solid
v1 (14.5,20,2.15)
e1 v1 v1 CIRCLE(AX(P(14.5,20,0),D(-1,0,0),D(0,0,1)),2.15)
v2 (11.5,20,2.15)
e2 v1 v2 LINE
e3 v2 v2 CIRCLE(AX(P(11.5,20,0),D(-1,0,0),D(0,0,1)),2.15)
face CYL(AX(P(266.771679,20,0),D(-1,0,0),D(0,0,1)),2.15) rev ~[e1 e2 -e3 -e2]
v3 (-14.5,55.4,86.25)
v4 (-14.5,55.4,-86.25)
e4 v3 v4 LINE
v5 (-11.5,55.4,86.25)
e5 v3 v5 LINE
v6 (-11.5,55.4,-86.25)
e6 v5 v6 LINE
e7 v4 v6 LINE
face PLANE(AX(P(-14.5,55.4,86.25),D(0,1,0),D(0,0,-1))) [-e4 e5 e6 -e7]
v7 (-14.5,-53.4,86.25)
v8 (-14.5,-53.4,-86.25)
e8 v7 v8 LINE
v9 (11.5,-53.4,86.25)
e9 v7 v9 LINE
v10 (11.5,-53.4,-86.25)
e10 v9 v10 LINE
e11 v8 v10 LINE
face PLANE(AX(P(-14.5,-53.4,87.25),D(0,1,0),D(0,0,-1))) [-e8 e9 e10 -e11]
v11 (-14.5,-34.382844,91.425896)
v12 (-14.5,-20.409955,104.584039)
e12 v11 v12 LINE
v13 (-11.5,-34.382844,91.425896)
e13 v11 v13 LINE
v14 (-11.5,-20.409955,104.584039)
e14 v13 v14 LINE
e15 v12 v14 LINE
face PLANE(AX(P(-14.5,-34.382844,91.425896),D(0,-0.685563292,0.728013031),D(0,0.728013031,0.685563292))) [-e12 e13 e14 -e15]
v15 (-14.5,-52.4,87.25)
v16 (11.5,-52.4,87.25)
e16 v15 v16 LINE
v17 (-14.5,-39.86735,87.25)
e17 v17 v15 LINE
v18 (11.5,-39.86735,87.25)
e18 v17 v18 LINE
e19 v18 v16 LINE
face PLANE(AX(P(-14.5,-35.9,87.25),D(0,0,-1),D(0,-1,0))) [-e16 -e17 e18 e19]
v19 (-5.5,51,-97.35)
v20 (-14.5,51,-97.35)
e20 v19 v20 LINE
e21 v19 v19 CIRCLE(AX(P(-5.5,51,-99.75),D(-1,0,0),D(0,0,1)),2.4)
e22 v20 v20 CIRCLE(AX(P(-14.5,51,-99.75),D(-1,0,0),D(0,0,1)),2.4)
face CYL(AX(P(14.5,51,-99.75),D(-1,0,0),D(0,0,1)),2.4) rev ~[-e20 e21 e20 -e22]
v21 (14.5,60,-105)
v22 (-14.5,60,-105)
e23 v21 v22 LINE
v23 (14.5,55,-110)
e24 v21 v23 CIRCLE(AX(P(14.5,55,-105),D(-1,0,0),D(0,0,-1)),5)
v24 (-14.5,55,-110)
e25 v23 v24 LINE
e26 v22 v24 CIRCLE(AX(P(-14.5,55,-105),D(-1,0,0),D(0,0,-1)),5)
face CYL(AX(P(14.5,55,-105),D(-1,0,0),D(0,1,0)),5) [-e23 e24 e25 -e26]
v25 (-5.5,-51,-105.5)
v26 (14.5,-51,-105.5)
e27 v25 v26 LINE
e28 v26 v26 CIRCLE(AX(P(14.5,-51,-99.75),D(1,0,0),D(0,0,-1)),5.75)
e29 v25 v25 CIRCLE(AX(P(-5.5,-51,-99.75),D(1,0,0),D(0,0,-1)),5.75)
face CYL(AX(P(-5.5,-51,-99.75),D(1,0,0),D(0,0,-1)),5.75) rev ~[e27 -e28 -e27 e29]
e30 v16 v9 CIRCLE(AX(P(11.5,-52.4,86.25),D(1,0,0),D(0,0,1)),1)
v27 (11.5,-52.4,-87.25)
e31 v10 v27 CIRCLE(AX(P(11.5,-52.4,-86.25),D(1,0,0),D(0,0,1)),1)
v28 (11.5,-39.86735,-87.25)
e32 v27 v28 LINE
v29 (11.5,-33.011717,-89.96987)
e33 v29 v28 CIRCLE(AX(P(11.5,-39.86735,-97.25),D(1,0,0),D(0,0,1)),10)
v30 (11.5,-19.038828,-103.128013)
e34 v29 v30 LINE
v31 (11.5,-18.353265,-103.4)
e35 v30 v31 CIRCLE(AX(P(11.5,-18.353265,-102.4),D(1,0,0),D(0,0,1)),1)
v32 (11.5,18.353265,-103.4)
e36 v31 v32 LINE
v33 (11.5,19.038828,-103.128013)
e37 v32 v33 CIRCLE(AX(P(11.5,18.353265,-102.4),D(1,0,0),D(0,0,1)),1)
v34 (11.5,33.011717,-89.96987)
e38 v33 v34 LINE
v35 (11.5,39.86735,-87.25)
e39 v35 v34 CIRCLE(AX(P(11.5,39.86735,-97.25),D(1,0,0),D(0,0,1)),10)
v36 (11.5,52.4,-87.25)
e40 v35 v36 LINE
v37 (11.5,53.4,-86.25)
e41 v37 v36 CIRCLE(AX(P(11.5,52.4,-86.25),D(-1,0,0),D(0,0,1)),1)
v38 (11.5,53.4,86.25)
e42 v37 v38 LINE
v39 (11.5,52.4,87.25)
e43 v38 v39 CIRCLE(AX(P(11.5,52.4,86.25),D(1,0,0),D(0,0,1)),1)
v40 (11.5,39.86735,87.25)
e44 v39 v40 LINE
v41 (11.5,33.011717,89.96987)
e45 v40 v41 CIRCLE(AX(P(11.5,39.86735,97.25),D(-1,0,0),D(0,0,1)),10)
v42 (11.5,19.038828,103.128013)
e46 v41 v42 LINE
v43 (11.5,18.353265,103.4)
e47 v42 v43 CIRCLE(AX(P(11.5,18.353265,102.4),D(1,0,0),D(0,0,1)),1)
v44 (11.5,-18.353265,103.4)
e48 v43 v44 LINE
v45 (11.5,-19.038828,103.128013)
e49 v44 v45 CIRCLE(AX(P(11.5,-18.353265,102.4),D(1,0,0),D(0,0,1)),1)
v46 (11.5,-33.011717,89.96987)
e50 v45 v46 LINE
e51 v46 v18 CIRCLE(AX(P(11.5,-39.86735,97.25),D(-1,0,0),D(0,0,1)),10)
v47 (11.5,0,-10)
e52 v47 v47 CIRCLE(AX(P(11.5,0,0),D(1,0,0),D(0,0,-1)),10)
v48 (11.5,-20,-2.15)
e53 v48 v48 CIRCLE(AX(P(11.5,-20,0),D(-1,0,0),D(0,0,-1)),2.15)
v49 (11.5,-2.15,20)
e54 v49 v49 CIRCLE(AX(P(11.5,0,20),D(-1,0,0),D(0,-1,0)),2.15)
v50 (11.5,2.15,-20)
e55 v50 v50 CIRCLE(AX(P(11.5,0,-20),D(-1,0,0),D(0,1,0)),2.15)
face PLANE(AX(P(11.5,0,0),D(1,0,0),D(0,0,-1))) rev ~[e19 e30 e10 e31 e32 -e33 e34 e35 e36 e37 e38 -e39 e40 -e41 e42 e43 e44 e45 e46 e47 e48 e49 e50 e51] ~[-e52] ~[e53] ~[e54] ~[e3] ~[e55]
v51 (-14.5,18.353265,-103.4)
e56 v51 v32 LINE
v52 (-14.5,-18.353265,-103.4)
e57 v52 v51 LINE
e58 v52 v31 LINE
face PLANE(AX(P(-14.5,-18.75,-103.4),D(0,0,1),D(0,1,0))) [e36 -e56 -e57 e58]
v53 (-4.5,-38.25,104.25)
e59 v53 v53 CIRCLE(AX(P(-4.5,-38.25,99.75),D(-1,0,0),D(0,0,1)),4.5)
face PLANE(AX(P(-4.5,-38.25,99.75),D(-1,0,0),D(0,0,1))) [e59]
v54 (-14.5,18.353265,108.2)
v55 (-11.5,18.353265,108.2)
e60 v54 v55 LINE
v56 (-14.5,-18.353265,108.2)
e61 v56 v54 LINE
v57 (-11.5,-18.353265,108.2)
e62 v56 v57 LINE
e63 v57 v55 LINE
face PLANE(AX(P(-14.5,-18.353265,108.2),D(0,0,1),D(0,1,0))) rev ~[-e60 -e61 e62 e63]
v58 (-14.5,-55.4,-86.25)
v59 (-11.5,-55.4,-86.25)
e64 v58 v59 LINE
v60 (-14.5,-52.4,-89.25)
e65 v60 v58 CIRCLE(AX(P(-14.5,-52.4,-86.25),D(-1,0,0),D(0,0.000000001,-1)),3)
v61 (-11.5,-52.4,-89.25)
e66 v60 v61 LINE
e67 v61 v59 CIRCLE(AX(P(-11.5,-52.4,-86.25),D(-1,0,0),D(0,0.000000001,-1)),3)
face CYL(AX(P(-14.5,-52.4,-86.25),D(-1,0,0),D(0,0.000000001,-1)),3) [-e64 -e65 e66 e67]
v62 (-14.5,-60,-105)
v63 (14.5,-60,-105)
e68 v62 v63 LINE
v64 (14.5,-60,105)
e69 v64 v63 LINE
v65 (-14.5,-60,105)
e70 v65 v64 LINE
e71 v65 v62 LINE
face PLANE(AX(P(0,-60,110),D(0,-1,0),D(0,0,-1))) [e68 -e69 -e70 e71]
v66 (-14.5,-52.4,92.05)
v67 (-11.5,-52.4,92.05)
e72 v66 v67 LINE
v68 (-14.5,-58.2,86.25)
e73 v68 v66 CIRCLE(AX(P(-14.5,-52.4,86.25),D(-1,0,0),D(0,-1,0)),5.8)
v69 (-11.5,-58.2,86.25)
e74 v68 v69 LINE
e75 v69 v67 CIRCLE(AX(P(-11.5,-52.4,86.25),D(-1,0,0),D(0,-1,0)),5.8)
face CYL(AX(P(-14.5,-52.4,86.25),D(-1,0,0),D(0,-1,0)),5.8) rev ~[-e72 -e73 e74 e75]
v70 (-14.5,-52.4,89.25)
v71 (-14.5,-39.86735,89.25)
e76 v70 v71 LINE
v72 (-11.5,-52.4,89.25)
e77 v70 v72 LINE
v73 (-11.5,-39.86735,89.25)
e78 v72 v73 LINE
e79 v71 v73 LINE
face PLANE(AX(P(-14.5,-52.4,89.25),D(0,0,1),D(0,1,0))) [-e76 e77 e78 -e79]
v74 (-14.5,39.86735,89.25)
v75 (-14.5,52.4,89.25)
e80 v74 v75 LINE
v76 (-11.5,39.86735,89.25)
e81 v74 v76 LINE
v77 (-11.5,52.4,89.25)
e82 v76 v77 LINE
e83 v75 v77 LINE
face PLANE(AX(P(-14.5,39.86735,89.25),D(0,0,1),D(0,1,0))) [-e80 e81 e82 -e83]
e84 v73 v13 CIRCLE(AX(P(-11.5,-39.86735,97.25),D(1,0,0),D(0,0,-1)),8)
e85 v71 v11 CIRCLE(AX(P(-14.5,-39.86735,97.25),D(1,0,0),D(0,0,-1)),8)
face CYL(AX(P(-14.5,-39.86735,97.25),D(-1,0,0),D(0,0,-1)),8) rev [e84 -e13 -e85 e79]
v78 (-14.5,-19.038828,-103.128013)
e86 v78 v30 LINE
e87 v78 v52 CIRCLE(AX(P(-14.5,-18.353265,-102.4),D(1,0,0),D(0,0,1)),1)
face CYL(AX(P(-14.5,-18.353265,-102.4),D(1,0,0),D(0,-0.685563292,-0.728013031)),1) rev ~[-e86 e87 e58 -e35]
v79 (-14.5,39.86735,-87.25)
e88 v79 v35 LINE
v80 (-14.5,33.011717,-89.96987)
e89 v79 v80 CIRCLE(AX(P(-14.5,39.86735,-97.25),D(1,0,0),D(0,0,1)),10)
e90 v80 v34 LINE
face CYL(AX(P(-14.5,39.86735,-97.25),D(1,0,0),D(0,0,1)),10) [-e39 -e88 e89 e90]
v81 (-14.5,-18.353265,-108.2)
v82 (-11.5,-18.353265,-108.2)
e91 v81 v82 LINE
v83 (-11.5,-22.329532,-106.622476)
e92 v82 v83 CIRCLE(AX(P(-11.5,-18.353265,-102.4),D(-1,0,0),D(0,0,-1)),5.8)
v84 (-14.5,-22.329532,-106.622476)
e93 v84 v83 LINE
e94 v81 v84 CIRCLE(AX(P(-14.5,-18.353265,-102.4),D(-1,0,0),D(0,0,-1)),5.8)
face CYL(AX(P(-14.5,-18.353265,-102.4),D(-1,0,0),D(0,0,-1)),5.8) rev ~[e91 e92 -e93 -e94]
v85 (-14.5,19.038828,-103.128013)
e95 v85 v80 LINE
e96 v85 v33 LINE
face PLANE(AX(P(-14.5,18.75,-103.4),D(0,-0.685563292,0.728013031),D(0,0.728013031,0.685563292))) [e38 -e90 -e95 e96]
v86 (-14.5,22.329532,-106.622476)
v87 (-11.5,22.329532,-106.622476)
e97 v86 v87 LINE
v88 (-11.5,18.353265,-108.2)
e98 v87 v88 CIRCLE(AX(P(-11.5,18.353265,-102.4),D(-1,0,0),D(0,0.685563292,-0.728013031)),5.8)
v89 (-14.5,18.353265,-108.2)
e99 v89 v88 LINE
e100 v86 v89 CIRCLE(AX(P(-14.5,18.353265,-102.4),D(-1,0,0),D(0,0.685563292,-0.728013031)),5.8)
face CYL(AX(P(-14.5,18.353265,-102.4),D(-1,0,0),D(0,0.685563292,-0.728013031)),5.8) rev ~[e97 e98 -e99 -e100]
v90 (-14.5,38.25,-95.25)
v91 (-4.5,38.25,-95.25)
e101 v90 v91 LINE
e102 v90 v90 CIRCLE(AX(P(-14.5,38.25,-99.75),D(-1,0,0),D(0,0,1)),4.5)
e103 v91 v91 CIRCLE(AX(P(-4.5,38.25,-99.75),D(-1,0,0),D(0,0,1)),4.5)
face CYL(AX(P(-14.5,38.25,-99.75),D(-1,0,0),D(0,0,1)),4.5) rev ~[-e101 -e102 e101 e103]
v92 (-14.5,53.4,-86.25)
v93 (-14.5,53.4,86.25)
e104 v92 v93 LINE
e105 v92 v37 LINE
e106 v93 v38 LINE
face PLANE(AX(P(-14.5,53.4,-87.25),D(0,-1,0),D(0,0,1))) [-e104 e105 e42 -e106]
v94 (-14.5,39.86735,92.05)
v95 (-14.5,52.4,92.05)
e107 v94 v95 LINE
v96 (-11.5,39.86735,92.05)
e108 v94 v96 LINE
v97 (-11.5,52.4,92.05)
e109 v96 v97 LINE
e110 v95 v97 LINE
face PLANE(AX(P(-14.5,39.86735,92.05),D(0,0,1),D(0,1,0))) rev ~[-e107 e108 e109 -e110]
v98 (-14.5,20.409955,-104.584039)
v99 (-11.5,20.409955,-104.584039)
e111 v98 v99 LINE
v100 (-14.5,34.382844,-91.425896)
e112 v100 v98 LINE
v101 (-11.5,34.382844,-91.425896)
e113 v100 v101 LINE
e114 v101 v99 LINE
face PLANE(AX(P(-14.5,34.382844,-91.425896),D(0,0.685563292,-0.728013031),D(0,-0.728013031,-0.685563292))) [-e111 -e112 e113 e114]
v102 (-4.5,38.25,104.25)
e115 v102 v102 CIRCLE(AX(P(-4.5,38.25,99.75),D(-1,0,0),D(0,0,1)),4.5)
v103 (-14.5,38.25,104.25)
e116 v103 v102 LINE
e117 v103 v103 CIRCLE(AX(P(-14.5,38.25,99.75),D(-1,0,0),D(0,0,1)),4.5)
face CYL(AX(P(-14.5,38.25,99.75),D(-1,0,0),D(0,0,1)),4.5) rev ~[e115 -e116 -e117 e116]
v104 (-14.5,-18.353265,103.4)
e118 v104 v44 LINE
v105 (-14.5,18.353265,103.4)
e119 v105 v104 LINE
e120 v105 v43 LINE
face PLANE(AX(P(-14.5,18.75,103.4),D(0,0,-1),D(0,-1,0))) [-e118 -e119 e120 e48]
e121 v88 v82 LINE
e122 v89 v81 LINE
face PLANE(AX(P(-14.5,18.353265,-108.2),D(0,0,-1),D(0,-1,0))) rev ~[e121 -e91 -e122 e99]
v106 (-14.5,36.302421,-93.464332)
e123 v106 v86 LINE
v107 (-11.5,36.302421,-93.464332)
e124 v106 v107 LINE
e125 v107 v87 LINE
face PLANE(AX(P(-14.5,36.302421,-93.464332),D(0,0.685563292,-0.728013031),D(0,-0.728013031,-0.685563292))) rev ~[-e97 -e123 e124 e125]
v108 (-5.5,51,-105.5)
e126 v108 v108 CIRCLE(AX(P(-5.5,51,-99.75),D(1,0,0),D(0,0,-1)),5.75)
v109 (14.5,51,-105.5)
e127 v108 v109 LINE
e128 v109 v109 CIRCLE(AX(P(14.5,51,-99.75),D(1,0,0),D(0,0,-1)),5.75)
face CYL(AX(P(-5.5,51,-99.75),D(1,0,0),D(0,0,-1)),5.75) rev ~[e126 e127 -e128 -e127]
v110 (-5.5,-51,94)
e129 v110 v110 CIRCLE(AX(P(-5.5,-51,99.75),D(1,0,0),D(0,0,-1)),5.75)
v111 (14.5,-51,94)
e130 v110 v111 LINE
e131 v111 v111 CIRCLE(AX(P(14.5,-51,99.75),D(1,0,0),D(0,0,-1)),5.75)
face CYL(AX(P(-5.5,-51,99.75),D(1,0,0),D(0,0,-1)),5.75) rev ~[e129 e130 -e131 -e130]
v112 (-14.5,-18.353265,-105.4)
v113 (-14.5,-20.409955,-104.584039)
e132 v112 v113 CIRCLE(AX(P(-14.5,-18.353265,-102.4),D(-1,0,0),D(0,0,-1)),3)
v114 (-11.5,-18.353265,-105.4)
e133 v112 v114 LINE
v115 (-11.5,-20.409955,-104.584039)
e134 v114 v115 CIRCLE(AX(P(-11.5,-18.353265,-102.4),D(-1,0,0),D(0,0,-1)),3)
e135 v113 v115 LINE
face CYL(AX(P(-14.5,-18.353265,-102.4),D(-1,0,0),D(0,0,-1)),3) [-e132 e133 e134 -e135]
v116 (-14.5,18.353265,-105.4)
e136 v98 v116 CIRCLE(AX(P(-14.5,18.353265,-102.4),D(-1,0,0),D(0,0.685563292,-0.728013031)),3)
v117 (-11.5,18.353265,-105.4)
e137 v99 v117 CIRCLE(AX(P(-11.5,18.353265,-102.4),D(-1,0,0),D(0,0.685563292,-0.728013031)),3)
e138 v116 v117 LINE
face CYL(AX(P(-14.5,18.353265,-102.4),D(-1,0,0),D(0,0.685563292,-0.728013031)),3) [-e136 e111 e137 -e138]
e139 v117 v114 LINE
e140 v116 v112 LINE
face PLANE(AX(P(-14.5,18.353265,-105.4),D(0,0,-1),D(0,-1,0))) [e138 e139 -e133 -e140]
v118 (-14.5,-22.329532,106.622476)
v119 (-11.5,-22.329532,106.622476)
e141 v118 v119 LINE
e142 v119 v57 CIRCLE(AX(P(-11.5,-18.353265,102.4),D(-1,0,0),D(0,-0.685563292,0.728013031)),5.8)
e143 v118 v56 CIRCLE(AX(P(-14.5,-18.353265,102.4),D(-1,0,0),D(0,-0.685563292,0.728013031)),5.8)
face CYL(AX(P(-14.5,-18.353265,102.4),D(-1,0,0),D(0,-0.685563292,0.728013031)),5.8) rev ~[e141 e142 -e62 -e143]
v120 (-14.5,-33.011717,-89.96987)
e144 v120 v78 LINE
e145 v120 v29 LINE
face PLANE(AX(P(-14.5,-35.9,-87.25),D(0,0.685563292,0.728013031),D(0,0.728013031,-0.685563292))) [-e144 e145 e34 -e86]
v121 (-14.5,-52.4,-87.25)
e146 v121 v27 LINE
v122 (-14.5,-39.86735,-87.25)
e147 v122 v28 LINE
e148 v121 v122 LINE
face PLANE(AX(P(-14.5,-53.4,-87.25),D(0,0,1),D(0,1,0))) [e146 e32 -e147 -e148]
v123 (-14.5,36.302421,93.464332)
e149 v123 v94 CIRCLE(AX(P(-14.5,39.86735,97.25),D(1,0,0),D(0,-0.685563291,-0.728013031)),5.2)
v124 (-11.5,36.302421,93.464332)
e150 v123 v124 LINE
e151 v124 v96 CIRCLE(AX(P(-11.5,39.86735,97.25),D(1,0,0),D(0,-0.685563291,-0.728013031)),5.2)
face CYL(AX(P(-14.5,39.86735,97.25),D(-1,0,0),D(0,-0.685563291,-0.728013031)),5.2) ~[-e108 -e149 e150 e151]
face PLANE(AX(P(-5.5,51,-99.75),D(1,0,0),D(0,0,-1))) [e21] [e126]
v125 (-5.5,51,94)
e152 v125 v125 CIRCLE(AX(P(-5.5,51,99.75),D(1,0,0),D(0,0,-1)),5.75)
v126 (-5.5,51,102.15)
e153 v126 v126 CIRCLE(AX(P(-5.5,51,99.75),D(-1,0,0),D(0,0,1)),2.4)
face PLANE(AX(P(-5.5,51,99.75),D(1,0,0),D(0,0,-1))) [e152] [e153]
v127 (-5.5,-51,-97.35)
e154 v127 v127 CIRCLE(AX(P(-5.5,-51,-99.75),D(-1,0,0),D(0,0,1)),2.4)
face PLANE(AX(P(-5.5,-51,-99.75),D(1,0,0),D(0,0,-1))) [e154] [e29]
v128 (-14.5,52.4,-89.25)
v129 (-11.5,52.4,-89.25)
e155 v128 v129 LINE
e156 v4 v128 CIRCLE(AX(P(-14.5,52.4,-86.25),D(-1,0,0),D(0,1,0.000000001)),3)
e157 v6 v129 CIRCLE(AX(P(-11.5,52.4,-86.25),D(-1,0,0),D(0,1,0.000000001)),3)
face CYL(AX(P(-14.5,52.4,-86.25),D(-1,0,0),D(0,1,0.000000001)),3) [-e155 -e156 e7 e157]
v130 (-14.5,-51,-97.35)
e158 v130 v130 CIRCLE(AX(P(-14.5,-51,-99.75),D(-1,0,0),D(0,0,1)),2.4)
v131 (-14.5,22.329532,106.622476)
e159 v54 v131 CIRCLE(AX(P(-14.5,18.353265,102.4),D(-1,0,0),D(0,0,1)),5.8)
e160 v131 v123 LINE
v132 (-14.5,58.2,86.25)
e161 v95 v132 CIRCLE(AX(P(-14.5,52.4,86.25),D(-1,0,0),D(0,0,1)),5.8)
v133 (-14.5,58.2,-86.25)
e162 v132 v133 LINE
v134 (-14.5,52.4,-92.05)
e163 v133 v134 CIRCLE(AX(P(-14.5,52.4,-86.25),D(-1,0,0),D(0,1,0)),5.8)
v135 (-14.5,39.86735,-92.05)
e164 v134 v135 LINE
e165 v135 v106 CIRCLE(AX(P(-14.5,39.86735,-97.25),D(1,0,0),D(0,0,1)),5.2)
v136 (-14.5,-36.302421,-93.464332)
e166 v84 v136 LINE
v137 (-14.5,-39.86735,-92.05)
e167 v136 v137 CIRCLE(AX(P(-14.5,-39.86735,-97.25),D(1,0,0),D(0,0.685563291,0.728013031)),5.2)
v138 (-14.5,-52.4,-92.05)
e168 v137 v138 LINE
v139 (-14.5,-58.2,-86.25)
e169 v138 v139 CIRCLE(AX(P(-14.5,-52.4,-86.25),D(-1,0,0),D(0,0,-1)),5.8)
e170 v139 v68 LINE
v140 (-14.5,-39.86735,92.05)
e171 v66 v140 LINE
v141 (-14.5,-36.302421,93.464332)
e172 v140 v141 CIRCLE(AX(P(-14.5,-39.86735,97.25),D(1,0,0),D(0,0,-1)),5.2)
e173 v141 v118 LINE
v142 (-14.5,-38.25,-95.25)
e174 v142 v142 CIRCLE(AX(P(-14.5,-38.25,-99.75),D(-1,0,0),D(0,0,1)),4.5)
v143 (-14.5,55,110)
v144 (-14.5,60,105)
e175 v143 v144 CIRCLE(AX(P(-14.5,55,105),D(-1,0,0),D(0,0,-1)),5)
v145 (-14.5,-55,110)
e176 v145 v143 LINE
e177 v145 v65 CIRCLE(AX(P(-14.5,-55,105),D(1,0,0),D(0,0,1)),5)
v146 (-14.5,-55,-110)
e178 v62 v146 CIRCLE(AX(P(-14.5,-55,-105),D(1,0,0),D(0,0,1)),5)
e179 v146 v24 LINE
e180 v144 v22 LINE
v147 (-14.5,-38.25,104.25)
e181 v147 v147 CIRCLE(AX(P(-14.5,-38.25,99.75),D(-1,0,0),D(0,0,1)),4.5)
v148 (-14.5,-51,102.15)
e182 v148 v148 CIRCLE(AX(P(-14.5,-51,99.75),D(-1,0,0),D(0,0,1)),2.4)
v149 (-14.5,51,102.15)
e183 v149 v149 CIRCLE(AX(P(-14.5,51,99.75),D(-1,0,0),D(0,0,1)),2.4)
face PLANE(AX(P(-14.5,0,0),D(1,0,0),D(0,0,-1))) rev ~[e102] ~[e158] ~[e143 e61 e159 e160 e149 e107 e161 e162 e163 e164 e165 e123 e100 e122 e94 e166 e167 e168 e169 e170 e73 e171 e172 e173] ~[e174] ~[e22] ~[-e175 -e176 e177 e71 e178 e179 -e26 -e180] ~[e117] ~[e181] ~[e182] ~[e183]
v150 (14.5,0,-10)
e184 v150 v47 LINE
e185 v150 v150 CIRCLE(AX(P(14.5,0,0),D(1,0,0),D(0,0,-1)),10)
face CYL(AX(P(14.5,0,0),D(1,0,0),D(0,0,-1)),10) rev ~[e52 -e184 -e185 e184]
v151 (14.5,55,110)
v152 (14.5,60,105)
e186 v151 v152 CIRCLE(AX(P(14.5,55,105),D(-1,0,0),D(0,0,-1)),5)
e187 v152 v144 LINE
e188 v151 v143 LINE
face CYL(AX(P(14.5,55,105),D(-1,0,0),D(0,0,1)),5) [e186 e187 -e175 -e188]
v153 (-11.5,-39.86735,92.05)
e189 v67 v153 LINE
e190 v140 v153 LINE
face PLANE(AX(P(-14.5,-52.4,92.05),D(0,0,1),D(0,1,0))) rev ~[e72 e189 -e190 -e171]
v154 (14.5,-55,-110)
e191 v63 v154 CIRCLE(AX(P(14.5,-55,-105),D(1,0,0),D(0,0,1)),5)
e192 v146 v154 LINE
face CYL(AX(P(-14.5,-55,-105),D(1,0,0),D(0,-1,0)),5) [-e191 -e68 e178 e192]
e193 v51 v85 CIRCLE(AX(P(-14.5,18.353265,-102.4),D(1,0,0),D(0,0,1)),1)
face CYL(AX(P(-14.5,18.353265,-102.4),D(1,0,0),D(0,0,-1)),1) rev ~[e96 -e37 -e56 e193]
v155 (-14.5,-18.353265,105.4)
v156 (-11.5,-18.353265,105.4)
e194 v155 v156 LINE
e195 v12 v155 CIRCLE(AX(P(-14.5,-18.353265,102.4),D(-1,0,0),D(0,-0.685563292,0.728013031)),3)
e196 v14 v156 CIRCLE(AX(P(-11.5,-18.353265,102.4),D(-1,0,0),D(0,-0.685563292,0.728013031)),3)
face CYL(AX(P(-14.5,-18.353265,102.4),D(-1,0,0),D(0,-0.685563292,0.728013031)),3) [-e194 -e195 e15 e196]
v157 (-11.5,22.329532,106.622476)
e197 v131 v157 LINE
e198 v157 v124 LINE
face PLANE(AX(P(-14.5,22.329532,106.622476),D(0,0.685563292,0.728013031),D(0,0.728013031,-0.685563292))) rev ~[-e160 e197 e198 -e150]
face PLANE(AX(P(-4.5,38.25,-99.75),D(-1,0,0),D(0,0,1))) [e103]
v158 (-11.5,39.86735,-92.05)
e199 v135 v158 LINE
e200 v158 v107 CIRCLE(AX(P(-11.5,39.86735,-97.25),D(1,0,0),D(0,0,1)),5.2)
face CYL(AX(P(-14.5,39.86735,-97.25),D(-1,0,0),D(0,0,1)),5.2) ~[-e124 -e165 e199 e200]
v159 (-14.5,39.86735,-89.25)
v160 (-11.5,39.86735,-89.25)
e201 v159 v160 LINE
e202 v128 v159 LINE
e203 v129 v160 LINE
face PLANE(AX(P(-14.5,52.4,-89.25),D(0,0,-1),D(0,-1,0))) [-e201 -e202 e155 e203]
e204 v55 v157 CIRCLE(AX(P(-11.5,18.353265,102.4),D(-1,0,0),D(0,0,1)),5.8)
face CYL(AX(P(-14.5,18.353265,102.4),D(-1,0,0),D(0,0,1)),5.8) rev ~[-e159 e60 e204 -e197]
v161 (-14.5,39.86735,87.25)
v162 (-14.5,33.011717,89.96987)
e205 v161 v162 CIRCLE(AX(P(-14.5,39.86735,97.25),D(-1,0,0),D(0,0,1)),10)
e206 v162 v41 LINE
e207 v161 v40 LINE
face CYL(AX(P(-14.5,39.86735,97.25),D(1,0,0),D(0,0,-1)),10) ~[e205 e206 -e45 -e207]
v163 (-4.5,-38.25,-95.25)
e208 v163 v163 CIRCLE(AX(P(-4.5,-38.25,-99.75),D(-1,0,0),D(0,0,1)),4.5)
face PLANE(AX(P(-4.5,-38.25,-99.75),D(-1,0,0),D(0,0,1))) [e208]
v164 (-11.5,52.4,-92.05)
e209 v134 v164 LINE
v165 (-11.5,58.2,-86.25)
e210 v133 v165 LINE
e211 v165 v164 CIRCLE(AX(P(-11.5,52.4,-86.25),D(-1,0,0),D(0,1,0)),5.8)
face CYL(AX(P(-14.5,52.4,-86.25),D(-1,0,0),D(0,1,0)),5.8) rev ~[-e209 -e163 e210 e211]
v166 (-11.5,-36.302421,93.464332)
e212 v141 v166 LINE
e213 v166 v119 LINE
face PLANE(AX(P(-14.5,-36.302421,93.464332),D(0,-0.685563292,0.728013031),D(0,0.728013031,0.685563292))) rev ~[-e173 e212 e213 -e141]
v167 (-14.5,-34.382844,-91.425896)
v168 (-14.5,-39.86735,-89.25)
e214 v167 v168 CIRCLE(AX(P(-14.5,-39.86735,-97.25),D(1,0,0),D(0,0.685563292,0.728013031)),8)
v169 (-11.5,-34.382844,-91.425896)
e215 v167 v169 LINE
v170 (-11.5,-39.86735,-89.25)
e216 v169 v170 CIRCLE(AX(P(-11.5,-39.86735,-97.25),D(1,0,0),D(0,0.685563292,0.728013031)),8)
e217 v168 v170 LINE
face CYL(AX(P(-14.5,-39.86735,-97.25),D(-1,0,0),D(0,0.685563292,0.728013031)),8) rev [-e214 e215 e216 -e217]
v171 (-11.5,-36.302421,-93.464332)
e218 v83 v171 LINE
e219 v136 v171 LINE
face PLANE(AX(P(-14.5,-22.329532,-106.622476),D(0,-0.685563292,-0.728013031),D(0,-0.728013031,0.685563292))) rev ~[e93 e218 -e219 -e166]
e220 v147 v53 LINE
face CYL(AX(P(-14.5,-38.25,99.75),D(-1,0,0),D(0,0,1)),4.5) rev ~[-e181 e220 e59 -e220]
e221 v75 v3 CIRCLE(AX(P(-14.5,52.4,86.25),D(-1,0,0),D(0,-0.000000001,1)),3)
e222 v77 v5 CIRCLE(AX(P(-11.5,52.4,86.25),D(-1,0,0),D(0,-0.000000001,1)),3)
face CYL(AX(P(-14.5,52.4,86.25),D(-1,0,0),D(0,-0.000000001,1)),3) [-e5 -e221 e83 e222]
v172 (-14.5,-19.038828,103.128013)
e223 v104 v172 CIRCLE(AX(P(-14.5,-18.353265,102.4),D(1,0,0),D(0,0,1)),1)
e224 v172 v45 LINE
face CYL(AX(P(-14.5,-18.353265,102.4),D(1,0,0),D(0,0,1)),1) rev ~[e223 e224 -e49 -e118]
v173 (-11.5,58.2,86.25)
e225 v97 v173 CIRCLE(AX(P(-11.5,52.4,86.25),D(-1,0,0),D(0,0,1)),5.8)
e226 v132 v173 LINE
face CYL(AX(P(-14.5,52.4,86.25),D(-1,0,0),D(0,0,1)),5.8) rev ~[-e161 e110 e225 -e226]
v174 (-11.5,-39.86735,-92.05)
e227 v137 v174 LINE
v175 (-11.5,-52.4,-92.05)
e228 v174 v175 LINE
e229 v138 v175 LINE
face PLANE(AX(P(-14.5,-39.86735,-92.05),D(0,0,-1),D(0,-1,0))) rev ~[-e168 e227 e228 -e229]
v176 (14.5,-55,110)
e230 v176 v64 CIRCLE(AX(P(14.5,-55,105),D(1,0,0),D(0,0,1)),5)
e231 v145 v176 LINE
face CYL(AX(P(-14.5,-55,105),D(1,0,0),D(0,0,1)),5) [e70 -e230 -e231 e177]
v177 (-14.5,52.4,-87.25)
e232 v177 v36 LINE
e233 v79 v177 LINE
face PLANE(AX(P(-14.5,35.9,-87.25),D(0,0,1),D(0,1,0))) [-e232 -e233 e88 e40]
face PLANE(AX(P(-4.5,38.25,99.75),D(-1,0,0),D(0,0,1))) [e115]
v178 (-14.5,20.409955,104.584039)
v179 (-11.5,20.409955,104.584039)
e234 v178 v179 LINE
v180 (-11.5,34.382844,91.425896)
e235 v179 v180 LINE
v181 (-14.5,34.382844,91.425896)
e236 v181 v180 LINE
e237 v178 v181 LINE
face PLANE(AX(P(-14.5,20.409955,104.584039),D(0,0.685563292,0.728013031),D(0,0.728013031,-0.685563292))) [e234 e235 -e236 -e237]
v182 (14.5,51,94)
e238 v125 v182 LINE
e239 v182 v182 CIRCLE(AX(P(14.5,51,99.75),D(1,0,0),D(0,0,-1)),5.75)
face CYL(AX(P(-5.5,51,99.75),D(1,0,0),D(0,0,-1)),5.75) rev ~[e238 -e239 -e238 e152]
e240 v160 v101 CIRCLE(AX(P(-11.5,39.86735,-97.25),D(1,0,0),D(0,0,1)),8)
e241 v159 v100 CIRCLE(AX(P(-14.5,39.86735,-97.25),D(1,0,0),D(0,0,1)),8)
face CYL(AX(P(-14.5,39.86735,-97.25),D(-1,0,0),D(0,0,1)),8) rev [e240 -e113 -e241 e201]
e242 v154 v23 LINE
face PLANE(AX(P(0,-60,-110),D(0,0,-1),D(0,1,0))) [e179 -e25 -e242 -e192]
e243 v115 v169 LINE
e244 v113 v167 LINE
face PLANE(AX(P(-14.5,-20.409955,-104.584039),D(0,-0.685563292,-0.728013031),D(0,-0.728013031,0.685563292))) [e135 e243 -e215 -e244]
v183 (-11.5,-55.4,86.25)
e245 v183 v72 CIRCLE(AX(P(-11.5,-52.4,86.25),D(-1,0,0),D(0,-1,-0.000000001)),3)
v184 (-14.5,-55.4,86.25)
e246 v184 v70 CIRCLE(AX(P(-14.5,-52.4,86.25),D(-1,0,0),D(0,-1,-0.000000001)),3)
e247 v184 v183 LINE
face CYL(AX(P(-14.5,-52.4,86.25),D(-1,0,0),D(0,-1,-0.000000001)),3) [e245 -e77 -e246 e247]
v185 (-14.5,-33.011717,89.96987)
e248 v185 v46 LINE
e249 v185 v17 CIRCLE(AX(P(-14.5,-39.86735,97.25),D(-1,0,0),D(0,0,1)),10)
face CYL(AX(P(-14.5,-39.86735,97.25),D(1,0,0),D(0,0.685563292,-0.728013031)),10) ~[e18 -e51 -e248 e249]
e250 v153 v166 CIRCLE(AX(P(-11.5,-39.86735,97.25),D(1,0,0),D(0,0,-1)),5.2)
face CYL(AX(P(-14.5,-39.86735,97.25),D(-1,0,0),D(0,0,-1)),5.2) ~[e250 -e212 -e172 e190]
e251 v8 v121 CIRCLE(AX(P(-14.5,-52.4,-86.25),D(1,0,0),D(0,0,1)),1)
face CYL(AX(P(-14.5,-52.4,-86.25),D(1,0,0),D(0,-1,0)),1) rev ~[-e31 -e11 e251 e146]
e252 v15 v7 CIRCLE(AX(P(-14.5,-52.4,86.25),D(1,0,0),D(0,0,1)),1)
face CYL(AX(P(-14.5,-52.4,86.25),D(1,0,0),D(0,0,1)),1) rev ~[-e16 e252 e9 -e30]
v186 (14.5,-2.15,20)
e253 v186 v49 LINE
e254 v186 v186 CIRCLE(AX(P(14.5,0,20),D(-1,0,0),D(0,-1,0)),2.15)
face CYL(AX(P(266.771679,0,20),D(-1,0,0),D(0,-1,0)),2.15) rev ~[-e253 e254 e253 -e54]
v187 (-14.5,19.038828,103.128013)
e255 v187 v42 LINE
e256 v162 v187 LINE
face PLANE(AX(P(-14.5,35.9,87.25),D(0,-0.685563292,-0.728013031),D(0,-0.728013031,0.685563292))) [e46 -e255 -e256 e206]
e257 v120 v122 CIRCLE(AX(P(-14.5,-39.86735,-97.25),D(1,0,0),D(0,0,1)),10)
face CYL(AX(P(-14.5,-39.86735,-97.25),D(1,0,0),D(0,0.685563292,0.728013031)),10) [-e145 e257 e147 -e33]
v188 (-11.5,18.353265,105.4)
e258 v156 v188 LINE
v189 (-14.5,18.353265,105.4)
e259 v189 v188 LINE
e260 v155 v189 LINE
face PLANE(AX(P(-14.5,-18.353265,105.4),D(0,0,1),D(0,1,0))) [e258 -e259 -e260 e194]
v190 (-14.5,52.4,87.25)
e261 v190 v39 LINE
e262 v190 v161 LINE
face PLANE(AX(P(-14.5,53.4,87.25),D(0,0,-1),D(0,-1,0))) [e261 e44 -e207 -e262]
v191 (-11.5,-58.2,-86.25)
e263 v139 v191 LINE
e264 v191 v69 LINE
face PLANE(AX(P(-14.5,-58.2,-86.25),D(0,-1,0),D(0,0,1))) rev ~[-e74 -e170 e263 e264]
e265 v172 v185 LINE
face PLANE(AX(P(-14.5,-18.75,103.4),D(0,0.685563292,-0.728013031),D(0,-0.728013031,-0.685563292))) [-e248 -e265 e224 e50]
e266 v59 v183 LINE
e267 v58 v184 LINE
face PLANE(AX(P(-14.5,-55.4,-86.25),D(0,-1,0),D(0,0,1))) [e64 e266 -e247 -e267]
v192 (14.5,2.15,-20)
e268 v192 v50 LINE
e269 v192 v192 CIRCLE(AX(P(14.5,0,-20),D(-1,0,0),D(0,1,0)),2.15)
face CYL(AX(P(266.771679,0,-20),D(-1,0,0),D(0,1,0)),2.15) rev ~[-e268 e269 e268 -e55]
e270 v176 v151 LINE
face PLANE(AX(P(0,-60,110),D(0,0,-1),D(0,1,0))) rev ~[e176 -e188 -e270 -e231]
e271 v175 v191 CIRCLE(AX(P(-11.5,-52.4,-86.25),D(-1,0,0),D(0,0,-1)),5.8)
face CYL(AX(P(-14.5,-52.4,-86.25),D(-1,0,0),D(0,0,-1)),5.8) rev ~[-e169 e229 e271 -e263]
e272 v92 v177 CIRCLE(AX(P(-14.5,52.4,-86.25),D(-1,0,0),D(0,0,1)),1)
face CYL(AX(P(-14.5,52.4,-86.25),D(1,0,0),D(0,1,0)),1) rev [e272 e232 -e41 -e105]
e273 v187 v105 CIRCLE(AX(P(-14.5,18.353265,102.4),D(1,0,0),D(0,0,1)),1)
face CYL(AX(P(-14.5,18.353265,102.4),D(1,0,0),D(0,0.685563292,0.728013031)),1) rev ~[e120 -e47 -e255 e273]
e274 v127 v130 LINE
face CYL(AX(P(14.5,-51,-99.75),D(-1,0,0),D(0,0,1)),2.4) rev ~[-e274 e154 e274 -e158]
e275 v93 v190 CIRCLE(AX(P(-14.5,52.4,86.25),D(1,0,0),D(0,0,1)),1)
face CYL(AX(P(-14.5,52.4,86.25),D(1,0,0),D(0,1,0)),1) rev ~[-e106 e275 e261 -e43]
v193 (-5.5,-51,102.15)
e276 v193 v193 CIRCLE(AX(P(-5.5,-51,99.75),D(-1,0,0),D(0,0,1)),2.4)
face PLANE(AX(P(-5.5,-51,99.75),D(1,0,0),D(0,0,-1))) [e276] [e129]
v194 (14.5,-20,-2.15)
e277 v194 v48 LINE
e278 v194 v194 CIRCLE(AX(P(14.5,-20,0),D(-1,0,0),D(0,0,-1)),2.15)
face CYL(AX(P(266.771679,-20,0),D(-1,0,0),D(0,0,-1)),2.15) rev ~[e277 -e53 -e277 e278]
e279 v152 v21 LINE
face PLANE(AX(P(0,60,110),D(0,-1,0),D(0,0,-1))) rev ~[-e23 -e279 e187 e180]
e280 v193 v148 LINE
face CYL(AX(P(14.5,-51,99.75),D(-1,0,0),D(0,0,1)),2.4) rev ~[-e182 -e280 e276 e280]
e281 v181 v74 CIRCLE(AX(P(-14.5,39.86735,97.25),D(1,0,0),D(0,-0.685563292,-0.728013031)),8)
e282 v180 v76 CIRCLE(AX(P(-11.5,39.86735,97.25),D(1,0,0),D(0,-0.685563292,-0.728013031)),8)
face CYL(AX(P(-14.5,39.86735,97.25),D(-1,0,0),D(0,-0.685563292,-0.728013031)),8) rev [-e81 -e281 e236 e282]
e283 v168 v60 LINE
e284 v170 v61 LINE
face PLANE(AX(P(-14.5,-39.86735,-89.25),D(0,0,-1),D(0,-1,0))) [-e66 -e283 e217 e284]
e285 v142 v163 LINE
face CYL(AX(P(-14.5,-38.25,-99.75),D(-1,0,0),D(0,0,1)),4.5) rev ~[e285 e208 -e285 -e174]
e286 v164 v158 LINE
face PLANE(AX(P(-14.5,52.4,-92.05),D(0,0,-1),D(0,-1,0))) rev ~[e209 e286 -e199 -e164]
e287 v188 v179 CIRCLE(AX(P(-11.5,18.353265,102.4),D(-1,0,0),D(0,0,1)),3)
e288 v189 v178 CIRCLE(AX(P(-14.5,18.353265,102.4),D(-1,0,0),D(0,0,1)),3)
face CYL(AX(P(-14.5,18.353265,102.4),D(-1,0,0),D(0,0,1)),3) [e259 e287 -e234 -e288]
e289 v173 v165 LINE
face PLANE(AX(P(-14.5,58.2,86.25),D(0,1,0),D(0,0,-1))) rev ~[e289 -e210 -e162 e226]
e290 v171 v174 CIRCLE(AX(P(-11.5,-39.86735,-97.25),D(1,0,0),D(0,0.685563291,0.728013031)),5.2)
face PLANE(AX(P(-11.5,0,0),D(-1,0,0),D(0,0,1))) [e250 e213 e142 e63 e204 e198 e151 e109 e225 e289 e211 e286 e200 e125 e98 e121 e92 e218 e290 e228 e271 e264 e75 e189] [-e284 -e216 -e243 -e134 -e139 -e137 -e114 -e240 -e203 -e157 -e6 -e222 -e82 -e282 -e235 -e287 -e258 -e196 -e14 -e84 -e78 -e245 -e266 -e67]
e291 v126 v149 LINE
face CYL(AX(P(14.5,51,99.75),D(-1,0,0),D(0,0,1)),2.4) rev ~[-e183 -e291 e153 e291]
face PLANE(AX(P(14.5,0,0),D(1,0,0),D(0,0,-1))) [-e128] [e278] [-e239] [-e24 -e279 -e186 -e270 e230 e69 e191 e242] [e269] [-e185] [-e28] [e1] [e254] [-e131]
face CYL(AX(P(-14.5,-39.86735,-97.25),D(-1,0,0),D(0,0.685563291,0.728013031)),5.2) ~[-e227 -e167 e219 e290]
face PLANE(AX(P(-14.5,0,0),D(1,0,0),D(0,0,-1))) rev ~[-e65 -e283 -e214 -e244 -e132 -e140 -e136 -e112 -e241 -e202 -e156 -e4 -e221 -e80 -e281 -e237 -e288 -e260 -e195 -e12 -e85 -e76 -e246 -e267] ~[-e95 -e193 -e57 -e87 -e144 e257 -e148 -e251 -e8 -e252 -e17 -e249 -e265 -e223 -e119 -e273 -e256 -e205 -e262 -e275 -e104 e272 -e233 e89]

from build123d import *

# Parameters (mm, degrees)
SKETCH1_W                                   = 220
SKETCH1_H                                   = 120
BOSS_EXTRUDE1_DEPTH                         = 14.5
CUT_EXTRUDE1_DEPTH                          = 26
FILLET1_R                                   = 1
FILLET2_R                                   = 10
CUT_EXTRUDE3_DEPTH                          = 3
CBORE_FOR_M4_CHEESE_HEAD_SCREW1_D           = 4.8
CBORE_FOR_M4_CHEESE_HEAD_SCREW1_CBORE_D     = 11.5
CBORE_FOR_M4_CHEESE_HEAD_SCREW1_CBORE_DEPTH = 20
FILLET3_R                                   = 5
SKETCH8_R                                   = 4.5
CUT_EXTRUDE4_DEPTH                          = 10
CUT_EXTRUDE5_REACH                          = 130.612
SKETCH9_R                                   = 10
M4_CLEARANCE_HOLE1_D                        = 4.3
CIRPATTERN1_COUNT                           = 4


with BuildPart() as part:
    # Sketch1 → Boss-Extrude1 (new, symmetric)
    with BuildSketch(Plane(origin=(0, 0, 0), x_dir=(0, 0, -1), z_dir=(1, 0, 0))):
        Rectangle(SKETCH1_W, SKETCH1_H)
    extrude(amount=BOSS_EXTRUDE1_DEPTH, both=True)

    # Sketch2 → Cut-Extrude1 (cut)
    with BuildSketch(Plane.ZY.offset(14.5)):
        Polygon((-87.25, 53.4), (87.25, 53.4), (87.25, 35.9), (103.4, 18.75), (103.4, -18.75), (87.25, -35.9), (87.25, -53.4), (-87.25, -53.4), (-87.25, -35.9), (-103.4, -18.75), (-103.4, 18.75), (-87.25, 35.9), align=None)
    extrude(amount=-CUT_EXTRUDE1_DEPTH, mode=Mode.SUBTRACT)

    # Fillet1
    fillet1_edges = [part.edges().sort_by_distance(p)[0] for p in [
        (-1.5, -18.75, 103.4),
        (-1.5, -53.4, 87.25),
        (-1.5, -53.4, -87.25),
        (-1.5, -18.75, -103.4),
        (-1.5, 18.75, -103.4),
        (-1.5, 53.4, -87.25),
        (-1.5, 53.4, 87.25),
        (-1.5, 18.75, 103.4),
    ]]
    fillet(fillet1_edges, radius=FILLET1_R)

    # Fillet2
    fillet2_edges = [part.edges().sort_by_distance(p)[0] for p in [
        (-1.5, -35.9, 87.25),
        (-1.5, -35.9, -87.25),
        (-1.5, 35.9, -87.25),
        (-1.5, 35.9, 87.25),
    ]]
    fillet(fillet2_edges, radius=FILLET2_R)

    # Sketch3 → Cut-Extrude3 (cut)
    with BuildSketch(Plane.ZY.offset(14.5)):
        with BuildLine():
            Line((92.05, 39.867350241), (92.05, 52.4))
            ThreePointArc((92.05, 52.4), (90.351219331, 56.501219331), (86.25, 58.2))
            Line((86.25, 58.2), (-86.25, 58.2))
            ThreePointArc((-86.25, 58.2), (-90.351219331, 56.501219331), (-92.05, 52.4))
            Line((-92.05, 52.4), (-92.05, 39.867350241))
            ThreePointArc((-92.05, 39.867350241), (-92.416498559, 37.949730931), (-93.464332239, 36.302421125))
            Line((-93.464332239, 36.302421125), (-106.62247558, 22.329532067))
            ThreePointArc((-106.62247558, 22.329532067), (-107.791213146, 20.492148053), (-108.2, 18.353264976))
            Line((-108.2, 18.353264976), (-108.2, -18.353264976))
            ThreePointArc((-108.2, -18.353264976), (-107.791213146, -20.492148053), (-106.62247558, -22.329532067))
            Line((-106.62247558, -22.329532067), (-93.464332239, -36.302421125))
            ThreePointArc((-93.464332239, -36.302421125), (-92.416498559, -37.949730931), (-92.05, -39.867350241))
            Line((-92.05, -39.867350241), (-92.05, -52.4))
            ThreePointArc((-92.05, -52.4), (-90.351219331, -56.501219331), (-86.25, -58.2))
            Line((-86.25, -58.2), (86.25, -58.2))
            ThreePointArc((86.25, -58.2), (90.351219331, -56.501219331), (92.05, -52.4))
            Line((92.05, -52.4), (92.05, -39.867350241))
            ThreePointArc((92.05, -39.867350241), (92.416498559, -37.949730931), (93.464332239, -36.302421125))
            Line((93.464332239, -36.302421125), (106.62247558, -22.329532067))
            ThreePointArc((106.62247558, -22.329532067), (107.791213146, -20.492148053), (108.2, -18.353264976))
            Line((108.2, -18.353264976), (108.2, 18.353264976))
            ThreePointArc((108.2, 18.353264976), (107.791213146, 20.492148053), (106.62247558, 22.329532067))
            Line((106.62247558, 22.329532067), (93.464332239, 36.302421125))
            ThreePointArc((93.464332239, 36.302421125), (92.416498559, 37.949730931), (92.05, 39.867350241))
        make_face()
        with BuildLine():
            ThreePointArc((-86.25, 55.4), (-88.371320344, 54.521320344), (-89.25, 52.4))
            Line((-89.25, 52.4), (-89.25, 39.867350241))
            ThreePointArc((-89.25, 39.867350241), (-89.813843937, 36.917166686), (-91.425895752, 34.382843909))
            Line((-91.425895752, 34.382843909), (-104.584039093, 20.409954851))
            ThreePointArc((-104.584039093, 20.409954851), (-105.188558524, 19.459583809), (-105.4, 18.353264976))
            Line((-105.4, 18.353264976), (-105.4, -18.353264976))
            ThreePointArc((-105.4, -18.353264976), (-105.188558524, -19.459583809), (-104.584039093, -20.409954851))
            Line((-104.584039093, -20.409954851), (-91.425895752, -34.382843909))
            ThreePointArc((-91.425895752, -34.382843909), (-89.813843937, -36.917166686), (-89.25, -39.867350241))
            Line((-89.25, -39.867350241), (-89.25, -52.4))
            ThreePointArc((-89.25, -52.4), (-88.371320344, -54.521320344), (-86.25, -55.4))
            Line((-86.25, -55.4), (86.25, -55.4))
            ThreePointArc((86.25, -55.4), (88.371320344, -54.521320344), (89.25, -52.4))
            Line((89.25, -52.4), (89.25, -39.867350241))
            ThreePointArc((89.25, -39.867350241), (89.813843937, -36.917166686), (91.425895752, -34.382843909))
            Line((91.425895752, -34.382843909), (104.584039093, -20.409954851))
            ThreePointArc((104.584039093, -20.409954851), (105.188558524, -19.459583809), (105.4, -18.353264976))
            Line((105.4, -18.353264976), (105.4, 18.353264976))
            ThreePointArc((105.4, 18.353264976), (105.188558524, 19.459583809), (104.584039093, 20.409954851))
            Line((104.584039093, 20.409954851), (91.425895752, 34.382843909))
            ThreePointArc((91.425895752, 34.382843909), (89.813843937, 36.917166686), (89.25, 39.867350241))
            Line((89.25, 39.867350241), (89.25, 52.4))
            ThreePointArc((89.25, 52.4), (88.371320344, 54.521320344), (86.25, 55.4))
            Line((86.25, 55.4), (-86.25, 55.4))
        make_face(mode=Mode.SUBTRACT)
    extrude(amount=-CUT_EXTRUDE3_DEPTH, mode=Mode.SUBTRACT)

    # CBORE for M4 Cheese Head Screw1 (through all)
    with Locations(Plane(origin=(14.5, 0, 0), x_dir=(0, 0, -1), z_dir=(1, 0, 0))):
        with Locations((99.75, 51), (-99.75, 51), (-99.75, -51), (99.75, -51)):
            CounterBoreHole(CBORE_FOR_M4_CHEESE_HEAD_SCREW1_D / 2, CBORE_FOR_M4_CHEESE_HEAD_SCREW1_CBORE_D / 2, CBORE_FOR_M4_CHEESE_HEAD_SCREW1_CBORE_DEPTH)

    # Fillet3
    fillet3_edges = [part.edges().sort_by_distance(p)[0] for p in [
        (0, 60, 110),
        (0, 60, -110),
        (0, -60, -110),
        (0, -60, 110),
    ]]
    fillet(fillet3_edges, radius=FILLET3_R)

    # Sketch8 → Cut-Extrude4 (cut)
    with BuildSketch(Plane.ZY.offset(14.5)):
        with Locations((99.75, 38.25)):
            Circle(SKETCH8_R)
        with Locations((99.75, -38.25)):
            Circle(SKETCH8_R)
        with Locations((-99.75, -38.25)):
            Circle(SKETCH8_R)
        with Locations((-99.75, 38.25)):
            Circle(SKETCH8_R)
    extrude(amount=-CUT_EXTRUDE4_DEPTH, mode=Mode.SUBTRACT)

    # Sketch9 → Cut-Extrude5 (cut, up to next)
    with BuildSketch(Plane(origin=(14.5, 0, 0), x_dir=(0, 0, -1), z_dir=(1, 0, 0)), mode=Mode.PRIVATE) as cut_extrude5_sk1:
        Circle(SKETCH9_R)
    cut_extrude5_tool1 = extrude(cut_extrude5_sk1.sketch, amount=-CUT_EXTRUDE5_REACH, mode=Mode.PRIVATE) & part.part
    add(cut_extrude5_tool1.solids().sort_by_distance((14.5, 0, 0))[0], mode=Mode.SUBTRACT)

    # M4 Clearance Hole1 (through all)
    with Locations(Plane(origin=(14.5, 0, 0), x_dir=(0, 0, -1), z_dir=(1, 0, 0))):
        with Locations((0, 20)):
            m4_clearance_hole1 = Hole(M4_CLEARANCE_HOLE1_D / 2)

    # CirPattern1: M4 Clearance Hole1 ×4 about axis
    cirpattern1_axis = Axis((0, 0, 0), (1, 0, 0))
    for i in range(1, CIRPATTERN1_COUNT):
        add(m4_clearance_hole1.rotate(cirpattern1_axis, i * 360 / CIRPATTERN1_COUNT), mode=Mode.SUBTRACT)


solid = part.part
